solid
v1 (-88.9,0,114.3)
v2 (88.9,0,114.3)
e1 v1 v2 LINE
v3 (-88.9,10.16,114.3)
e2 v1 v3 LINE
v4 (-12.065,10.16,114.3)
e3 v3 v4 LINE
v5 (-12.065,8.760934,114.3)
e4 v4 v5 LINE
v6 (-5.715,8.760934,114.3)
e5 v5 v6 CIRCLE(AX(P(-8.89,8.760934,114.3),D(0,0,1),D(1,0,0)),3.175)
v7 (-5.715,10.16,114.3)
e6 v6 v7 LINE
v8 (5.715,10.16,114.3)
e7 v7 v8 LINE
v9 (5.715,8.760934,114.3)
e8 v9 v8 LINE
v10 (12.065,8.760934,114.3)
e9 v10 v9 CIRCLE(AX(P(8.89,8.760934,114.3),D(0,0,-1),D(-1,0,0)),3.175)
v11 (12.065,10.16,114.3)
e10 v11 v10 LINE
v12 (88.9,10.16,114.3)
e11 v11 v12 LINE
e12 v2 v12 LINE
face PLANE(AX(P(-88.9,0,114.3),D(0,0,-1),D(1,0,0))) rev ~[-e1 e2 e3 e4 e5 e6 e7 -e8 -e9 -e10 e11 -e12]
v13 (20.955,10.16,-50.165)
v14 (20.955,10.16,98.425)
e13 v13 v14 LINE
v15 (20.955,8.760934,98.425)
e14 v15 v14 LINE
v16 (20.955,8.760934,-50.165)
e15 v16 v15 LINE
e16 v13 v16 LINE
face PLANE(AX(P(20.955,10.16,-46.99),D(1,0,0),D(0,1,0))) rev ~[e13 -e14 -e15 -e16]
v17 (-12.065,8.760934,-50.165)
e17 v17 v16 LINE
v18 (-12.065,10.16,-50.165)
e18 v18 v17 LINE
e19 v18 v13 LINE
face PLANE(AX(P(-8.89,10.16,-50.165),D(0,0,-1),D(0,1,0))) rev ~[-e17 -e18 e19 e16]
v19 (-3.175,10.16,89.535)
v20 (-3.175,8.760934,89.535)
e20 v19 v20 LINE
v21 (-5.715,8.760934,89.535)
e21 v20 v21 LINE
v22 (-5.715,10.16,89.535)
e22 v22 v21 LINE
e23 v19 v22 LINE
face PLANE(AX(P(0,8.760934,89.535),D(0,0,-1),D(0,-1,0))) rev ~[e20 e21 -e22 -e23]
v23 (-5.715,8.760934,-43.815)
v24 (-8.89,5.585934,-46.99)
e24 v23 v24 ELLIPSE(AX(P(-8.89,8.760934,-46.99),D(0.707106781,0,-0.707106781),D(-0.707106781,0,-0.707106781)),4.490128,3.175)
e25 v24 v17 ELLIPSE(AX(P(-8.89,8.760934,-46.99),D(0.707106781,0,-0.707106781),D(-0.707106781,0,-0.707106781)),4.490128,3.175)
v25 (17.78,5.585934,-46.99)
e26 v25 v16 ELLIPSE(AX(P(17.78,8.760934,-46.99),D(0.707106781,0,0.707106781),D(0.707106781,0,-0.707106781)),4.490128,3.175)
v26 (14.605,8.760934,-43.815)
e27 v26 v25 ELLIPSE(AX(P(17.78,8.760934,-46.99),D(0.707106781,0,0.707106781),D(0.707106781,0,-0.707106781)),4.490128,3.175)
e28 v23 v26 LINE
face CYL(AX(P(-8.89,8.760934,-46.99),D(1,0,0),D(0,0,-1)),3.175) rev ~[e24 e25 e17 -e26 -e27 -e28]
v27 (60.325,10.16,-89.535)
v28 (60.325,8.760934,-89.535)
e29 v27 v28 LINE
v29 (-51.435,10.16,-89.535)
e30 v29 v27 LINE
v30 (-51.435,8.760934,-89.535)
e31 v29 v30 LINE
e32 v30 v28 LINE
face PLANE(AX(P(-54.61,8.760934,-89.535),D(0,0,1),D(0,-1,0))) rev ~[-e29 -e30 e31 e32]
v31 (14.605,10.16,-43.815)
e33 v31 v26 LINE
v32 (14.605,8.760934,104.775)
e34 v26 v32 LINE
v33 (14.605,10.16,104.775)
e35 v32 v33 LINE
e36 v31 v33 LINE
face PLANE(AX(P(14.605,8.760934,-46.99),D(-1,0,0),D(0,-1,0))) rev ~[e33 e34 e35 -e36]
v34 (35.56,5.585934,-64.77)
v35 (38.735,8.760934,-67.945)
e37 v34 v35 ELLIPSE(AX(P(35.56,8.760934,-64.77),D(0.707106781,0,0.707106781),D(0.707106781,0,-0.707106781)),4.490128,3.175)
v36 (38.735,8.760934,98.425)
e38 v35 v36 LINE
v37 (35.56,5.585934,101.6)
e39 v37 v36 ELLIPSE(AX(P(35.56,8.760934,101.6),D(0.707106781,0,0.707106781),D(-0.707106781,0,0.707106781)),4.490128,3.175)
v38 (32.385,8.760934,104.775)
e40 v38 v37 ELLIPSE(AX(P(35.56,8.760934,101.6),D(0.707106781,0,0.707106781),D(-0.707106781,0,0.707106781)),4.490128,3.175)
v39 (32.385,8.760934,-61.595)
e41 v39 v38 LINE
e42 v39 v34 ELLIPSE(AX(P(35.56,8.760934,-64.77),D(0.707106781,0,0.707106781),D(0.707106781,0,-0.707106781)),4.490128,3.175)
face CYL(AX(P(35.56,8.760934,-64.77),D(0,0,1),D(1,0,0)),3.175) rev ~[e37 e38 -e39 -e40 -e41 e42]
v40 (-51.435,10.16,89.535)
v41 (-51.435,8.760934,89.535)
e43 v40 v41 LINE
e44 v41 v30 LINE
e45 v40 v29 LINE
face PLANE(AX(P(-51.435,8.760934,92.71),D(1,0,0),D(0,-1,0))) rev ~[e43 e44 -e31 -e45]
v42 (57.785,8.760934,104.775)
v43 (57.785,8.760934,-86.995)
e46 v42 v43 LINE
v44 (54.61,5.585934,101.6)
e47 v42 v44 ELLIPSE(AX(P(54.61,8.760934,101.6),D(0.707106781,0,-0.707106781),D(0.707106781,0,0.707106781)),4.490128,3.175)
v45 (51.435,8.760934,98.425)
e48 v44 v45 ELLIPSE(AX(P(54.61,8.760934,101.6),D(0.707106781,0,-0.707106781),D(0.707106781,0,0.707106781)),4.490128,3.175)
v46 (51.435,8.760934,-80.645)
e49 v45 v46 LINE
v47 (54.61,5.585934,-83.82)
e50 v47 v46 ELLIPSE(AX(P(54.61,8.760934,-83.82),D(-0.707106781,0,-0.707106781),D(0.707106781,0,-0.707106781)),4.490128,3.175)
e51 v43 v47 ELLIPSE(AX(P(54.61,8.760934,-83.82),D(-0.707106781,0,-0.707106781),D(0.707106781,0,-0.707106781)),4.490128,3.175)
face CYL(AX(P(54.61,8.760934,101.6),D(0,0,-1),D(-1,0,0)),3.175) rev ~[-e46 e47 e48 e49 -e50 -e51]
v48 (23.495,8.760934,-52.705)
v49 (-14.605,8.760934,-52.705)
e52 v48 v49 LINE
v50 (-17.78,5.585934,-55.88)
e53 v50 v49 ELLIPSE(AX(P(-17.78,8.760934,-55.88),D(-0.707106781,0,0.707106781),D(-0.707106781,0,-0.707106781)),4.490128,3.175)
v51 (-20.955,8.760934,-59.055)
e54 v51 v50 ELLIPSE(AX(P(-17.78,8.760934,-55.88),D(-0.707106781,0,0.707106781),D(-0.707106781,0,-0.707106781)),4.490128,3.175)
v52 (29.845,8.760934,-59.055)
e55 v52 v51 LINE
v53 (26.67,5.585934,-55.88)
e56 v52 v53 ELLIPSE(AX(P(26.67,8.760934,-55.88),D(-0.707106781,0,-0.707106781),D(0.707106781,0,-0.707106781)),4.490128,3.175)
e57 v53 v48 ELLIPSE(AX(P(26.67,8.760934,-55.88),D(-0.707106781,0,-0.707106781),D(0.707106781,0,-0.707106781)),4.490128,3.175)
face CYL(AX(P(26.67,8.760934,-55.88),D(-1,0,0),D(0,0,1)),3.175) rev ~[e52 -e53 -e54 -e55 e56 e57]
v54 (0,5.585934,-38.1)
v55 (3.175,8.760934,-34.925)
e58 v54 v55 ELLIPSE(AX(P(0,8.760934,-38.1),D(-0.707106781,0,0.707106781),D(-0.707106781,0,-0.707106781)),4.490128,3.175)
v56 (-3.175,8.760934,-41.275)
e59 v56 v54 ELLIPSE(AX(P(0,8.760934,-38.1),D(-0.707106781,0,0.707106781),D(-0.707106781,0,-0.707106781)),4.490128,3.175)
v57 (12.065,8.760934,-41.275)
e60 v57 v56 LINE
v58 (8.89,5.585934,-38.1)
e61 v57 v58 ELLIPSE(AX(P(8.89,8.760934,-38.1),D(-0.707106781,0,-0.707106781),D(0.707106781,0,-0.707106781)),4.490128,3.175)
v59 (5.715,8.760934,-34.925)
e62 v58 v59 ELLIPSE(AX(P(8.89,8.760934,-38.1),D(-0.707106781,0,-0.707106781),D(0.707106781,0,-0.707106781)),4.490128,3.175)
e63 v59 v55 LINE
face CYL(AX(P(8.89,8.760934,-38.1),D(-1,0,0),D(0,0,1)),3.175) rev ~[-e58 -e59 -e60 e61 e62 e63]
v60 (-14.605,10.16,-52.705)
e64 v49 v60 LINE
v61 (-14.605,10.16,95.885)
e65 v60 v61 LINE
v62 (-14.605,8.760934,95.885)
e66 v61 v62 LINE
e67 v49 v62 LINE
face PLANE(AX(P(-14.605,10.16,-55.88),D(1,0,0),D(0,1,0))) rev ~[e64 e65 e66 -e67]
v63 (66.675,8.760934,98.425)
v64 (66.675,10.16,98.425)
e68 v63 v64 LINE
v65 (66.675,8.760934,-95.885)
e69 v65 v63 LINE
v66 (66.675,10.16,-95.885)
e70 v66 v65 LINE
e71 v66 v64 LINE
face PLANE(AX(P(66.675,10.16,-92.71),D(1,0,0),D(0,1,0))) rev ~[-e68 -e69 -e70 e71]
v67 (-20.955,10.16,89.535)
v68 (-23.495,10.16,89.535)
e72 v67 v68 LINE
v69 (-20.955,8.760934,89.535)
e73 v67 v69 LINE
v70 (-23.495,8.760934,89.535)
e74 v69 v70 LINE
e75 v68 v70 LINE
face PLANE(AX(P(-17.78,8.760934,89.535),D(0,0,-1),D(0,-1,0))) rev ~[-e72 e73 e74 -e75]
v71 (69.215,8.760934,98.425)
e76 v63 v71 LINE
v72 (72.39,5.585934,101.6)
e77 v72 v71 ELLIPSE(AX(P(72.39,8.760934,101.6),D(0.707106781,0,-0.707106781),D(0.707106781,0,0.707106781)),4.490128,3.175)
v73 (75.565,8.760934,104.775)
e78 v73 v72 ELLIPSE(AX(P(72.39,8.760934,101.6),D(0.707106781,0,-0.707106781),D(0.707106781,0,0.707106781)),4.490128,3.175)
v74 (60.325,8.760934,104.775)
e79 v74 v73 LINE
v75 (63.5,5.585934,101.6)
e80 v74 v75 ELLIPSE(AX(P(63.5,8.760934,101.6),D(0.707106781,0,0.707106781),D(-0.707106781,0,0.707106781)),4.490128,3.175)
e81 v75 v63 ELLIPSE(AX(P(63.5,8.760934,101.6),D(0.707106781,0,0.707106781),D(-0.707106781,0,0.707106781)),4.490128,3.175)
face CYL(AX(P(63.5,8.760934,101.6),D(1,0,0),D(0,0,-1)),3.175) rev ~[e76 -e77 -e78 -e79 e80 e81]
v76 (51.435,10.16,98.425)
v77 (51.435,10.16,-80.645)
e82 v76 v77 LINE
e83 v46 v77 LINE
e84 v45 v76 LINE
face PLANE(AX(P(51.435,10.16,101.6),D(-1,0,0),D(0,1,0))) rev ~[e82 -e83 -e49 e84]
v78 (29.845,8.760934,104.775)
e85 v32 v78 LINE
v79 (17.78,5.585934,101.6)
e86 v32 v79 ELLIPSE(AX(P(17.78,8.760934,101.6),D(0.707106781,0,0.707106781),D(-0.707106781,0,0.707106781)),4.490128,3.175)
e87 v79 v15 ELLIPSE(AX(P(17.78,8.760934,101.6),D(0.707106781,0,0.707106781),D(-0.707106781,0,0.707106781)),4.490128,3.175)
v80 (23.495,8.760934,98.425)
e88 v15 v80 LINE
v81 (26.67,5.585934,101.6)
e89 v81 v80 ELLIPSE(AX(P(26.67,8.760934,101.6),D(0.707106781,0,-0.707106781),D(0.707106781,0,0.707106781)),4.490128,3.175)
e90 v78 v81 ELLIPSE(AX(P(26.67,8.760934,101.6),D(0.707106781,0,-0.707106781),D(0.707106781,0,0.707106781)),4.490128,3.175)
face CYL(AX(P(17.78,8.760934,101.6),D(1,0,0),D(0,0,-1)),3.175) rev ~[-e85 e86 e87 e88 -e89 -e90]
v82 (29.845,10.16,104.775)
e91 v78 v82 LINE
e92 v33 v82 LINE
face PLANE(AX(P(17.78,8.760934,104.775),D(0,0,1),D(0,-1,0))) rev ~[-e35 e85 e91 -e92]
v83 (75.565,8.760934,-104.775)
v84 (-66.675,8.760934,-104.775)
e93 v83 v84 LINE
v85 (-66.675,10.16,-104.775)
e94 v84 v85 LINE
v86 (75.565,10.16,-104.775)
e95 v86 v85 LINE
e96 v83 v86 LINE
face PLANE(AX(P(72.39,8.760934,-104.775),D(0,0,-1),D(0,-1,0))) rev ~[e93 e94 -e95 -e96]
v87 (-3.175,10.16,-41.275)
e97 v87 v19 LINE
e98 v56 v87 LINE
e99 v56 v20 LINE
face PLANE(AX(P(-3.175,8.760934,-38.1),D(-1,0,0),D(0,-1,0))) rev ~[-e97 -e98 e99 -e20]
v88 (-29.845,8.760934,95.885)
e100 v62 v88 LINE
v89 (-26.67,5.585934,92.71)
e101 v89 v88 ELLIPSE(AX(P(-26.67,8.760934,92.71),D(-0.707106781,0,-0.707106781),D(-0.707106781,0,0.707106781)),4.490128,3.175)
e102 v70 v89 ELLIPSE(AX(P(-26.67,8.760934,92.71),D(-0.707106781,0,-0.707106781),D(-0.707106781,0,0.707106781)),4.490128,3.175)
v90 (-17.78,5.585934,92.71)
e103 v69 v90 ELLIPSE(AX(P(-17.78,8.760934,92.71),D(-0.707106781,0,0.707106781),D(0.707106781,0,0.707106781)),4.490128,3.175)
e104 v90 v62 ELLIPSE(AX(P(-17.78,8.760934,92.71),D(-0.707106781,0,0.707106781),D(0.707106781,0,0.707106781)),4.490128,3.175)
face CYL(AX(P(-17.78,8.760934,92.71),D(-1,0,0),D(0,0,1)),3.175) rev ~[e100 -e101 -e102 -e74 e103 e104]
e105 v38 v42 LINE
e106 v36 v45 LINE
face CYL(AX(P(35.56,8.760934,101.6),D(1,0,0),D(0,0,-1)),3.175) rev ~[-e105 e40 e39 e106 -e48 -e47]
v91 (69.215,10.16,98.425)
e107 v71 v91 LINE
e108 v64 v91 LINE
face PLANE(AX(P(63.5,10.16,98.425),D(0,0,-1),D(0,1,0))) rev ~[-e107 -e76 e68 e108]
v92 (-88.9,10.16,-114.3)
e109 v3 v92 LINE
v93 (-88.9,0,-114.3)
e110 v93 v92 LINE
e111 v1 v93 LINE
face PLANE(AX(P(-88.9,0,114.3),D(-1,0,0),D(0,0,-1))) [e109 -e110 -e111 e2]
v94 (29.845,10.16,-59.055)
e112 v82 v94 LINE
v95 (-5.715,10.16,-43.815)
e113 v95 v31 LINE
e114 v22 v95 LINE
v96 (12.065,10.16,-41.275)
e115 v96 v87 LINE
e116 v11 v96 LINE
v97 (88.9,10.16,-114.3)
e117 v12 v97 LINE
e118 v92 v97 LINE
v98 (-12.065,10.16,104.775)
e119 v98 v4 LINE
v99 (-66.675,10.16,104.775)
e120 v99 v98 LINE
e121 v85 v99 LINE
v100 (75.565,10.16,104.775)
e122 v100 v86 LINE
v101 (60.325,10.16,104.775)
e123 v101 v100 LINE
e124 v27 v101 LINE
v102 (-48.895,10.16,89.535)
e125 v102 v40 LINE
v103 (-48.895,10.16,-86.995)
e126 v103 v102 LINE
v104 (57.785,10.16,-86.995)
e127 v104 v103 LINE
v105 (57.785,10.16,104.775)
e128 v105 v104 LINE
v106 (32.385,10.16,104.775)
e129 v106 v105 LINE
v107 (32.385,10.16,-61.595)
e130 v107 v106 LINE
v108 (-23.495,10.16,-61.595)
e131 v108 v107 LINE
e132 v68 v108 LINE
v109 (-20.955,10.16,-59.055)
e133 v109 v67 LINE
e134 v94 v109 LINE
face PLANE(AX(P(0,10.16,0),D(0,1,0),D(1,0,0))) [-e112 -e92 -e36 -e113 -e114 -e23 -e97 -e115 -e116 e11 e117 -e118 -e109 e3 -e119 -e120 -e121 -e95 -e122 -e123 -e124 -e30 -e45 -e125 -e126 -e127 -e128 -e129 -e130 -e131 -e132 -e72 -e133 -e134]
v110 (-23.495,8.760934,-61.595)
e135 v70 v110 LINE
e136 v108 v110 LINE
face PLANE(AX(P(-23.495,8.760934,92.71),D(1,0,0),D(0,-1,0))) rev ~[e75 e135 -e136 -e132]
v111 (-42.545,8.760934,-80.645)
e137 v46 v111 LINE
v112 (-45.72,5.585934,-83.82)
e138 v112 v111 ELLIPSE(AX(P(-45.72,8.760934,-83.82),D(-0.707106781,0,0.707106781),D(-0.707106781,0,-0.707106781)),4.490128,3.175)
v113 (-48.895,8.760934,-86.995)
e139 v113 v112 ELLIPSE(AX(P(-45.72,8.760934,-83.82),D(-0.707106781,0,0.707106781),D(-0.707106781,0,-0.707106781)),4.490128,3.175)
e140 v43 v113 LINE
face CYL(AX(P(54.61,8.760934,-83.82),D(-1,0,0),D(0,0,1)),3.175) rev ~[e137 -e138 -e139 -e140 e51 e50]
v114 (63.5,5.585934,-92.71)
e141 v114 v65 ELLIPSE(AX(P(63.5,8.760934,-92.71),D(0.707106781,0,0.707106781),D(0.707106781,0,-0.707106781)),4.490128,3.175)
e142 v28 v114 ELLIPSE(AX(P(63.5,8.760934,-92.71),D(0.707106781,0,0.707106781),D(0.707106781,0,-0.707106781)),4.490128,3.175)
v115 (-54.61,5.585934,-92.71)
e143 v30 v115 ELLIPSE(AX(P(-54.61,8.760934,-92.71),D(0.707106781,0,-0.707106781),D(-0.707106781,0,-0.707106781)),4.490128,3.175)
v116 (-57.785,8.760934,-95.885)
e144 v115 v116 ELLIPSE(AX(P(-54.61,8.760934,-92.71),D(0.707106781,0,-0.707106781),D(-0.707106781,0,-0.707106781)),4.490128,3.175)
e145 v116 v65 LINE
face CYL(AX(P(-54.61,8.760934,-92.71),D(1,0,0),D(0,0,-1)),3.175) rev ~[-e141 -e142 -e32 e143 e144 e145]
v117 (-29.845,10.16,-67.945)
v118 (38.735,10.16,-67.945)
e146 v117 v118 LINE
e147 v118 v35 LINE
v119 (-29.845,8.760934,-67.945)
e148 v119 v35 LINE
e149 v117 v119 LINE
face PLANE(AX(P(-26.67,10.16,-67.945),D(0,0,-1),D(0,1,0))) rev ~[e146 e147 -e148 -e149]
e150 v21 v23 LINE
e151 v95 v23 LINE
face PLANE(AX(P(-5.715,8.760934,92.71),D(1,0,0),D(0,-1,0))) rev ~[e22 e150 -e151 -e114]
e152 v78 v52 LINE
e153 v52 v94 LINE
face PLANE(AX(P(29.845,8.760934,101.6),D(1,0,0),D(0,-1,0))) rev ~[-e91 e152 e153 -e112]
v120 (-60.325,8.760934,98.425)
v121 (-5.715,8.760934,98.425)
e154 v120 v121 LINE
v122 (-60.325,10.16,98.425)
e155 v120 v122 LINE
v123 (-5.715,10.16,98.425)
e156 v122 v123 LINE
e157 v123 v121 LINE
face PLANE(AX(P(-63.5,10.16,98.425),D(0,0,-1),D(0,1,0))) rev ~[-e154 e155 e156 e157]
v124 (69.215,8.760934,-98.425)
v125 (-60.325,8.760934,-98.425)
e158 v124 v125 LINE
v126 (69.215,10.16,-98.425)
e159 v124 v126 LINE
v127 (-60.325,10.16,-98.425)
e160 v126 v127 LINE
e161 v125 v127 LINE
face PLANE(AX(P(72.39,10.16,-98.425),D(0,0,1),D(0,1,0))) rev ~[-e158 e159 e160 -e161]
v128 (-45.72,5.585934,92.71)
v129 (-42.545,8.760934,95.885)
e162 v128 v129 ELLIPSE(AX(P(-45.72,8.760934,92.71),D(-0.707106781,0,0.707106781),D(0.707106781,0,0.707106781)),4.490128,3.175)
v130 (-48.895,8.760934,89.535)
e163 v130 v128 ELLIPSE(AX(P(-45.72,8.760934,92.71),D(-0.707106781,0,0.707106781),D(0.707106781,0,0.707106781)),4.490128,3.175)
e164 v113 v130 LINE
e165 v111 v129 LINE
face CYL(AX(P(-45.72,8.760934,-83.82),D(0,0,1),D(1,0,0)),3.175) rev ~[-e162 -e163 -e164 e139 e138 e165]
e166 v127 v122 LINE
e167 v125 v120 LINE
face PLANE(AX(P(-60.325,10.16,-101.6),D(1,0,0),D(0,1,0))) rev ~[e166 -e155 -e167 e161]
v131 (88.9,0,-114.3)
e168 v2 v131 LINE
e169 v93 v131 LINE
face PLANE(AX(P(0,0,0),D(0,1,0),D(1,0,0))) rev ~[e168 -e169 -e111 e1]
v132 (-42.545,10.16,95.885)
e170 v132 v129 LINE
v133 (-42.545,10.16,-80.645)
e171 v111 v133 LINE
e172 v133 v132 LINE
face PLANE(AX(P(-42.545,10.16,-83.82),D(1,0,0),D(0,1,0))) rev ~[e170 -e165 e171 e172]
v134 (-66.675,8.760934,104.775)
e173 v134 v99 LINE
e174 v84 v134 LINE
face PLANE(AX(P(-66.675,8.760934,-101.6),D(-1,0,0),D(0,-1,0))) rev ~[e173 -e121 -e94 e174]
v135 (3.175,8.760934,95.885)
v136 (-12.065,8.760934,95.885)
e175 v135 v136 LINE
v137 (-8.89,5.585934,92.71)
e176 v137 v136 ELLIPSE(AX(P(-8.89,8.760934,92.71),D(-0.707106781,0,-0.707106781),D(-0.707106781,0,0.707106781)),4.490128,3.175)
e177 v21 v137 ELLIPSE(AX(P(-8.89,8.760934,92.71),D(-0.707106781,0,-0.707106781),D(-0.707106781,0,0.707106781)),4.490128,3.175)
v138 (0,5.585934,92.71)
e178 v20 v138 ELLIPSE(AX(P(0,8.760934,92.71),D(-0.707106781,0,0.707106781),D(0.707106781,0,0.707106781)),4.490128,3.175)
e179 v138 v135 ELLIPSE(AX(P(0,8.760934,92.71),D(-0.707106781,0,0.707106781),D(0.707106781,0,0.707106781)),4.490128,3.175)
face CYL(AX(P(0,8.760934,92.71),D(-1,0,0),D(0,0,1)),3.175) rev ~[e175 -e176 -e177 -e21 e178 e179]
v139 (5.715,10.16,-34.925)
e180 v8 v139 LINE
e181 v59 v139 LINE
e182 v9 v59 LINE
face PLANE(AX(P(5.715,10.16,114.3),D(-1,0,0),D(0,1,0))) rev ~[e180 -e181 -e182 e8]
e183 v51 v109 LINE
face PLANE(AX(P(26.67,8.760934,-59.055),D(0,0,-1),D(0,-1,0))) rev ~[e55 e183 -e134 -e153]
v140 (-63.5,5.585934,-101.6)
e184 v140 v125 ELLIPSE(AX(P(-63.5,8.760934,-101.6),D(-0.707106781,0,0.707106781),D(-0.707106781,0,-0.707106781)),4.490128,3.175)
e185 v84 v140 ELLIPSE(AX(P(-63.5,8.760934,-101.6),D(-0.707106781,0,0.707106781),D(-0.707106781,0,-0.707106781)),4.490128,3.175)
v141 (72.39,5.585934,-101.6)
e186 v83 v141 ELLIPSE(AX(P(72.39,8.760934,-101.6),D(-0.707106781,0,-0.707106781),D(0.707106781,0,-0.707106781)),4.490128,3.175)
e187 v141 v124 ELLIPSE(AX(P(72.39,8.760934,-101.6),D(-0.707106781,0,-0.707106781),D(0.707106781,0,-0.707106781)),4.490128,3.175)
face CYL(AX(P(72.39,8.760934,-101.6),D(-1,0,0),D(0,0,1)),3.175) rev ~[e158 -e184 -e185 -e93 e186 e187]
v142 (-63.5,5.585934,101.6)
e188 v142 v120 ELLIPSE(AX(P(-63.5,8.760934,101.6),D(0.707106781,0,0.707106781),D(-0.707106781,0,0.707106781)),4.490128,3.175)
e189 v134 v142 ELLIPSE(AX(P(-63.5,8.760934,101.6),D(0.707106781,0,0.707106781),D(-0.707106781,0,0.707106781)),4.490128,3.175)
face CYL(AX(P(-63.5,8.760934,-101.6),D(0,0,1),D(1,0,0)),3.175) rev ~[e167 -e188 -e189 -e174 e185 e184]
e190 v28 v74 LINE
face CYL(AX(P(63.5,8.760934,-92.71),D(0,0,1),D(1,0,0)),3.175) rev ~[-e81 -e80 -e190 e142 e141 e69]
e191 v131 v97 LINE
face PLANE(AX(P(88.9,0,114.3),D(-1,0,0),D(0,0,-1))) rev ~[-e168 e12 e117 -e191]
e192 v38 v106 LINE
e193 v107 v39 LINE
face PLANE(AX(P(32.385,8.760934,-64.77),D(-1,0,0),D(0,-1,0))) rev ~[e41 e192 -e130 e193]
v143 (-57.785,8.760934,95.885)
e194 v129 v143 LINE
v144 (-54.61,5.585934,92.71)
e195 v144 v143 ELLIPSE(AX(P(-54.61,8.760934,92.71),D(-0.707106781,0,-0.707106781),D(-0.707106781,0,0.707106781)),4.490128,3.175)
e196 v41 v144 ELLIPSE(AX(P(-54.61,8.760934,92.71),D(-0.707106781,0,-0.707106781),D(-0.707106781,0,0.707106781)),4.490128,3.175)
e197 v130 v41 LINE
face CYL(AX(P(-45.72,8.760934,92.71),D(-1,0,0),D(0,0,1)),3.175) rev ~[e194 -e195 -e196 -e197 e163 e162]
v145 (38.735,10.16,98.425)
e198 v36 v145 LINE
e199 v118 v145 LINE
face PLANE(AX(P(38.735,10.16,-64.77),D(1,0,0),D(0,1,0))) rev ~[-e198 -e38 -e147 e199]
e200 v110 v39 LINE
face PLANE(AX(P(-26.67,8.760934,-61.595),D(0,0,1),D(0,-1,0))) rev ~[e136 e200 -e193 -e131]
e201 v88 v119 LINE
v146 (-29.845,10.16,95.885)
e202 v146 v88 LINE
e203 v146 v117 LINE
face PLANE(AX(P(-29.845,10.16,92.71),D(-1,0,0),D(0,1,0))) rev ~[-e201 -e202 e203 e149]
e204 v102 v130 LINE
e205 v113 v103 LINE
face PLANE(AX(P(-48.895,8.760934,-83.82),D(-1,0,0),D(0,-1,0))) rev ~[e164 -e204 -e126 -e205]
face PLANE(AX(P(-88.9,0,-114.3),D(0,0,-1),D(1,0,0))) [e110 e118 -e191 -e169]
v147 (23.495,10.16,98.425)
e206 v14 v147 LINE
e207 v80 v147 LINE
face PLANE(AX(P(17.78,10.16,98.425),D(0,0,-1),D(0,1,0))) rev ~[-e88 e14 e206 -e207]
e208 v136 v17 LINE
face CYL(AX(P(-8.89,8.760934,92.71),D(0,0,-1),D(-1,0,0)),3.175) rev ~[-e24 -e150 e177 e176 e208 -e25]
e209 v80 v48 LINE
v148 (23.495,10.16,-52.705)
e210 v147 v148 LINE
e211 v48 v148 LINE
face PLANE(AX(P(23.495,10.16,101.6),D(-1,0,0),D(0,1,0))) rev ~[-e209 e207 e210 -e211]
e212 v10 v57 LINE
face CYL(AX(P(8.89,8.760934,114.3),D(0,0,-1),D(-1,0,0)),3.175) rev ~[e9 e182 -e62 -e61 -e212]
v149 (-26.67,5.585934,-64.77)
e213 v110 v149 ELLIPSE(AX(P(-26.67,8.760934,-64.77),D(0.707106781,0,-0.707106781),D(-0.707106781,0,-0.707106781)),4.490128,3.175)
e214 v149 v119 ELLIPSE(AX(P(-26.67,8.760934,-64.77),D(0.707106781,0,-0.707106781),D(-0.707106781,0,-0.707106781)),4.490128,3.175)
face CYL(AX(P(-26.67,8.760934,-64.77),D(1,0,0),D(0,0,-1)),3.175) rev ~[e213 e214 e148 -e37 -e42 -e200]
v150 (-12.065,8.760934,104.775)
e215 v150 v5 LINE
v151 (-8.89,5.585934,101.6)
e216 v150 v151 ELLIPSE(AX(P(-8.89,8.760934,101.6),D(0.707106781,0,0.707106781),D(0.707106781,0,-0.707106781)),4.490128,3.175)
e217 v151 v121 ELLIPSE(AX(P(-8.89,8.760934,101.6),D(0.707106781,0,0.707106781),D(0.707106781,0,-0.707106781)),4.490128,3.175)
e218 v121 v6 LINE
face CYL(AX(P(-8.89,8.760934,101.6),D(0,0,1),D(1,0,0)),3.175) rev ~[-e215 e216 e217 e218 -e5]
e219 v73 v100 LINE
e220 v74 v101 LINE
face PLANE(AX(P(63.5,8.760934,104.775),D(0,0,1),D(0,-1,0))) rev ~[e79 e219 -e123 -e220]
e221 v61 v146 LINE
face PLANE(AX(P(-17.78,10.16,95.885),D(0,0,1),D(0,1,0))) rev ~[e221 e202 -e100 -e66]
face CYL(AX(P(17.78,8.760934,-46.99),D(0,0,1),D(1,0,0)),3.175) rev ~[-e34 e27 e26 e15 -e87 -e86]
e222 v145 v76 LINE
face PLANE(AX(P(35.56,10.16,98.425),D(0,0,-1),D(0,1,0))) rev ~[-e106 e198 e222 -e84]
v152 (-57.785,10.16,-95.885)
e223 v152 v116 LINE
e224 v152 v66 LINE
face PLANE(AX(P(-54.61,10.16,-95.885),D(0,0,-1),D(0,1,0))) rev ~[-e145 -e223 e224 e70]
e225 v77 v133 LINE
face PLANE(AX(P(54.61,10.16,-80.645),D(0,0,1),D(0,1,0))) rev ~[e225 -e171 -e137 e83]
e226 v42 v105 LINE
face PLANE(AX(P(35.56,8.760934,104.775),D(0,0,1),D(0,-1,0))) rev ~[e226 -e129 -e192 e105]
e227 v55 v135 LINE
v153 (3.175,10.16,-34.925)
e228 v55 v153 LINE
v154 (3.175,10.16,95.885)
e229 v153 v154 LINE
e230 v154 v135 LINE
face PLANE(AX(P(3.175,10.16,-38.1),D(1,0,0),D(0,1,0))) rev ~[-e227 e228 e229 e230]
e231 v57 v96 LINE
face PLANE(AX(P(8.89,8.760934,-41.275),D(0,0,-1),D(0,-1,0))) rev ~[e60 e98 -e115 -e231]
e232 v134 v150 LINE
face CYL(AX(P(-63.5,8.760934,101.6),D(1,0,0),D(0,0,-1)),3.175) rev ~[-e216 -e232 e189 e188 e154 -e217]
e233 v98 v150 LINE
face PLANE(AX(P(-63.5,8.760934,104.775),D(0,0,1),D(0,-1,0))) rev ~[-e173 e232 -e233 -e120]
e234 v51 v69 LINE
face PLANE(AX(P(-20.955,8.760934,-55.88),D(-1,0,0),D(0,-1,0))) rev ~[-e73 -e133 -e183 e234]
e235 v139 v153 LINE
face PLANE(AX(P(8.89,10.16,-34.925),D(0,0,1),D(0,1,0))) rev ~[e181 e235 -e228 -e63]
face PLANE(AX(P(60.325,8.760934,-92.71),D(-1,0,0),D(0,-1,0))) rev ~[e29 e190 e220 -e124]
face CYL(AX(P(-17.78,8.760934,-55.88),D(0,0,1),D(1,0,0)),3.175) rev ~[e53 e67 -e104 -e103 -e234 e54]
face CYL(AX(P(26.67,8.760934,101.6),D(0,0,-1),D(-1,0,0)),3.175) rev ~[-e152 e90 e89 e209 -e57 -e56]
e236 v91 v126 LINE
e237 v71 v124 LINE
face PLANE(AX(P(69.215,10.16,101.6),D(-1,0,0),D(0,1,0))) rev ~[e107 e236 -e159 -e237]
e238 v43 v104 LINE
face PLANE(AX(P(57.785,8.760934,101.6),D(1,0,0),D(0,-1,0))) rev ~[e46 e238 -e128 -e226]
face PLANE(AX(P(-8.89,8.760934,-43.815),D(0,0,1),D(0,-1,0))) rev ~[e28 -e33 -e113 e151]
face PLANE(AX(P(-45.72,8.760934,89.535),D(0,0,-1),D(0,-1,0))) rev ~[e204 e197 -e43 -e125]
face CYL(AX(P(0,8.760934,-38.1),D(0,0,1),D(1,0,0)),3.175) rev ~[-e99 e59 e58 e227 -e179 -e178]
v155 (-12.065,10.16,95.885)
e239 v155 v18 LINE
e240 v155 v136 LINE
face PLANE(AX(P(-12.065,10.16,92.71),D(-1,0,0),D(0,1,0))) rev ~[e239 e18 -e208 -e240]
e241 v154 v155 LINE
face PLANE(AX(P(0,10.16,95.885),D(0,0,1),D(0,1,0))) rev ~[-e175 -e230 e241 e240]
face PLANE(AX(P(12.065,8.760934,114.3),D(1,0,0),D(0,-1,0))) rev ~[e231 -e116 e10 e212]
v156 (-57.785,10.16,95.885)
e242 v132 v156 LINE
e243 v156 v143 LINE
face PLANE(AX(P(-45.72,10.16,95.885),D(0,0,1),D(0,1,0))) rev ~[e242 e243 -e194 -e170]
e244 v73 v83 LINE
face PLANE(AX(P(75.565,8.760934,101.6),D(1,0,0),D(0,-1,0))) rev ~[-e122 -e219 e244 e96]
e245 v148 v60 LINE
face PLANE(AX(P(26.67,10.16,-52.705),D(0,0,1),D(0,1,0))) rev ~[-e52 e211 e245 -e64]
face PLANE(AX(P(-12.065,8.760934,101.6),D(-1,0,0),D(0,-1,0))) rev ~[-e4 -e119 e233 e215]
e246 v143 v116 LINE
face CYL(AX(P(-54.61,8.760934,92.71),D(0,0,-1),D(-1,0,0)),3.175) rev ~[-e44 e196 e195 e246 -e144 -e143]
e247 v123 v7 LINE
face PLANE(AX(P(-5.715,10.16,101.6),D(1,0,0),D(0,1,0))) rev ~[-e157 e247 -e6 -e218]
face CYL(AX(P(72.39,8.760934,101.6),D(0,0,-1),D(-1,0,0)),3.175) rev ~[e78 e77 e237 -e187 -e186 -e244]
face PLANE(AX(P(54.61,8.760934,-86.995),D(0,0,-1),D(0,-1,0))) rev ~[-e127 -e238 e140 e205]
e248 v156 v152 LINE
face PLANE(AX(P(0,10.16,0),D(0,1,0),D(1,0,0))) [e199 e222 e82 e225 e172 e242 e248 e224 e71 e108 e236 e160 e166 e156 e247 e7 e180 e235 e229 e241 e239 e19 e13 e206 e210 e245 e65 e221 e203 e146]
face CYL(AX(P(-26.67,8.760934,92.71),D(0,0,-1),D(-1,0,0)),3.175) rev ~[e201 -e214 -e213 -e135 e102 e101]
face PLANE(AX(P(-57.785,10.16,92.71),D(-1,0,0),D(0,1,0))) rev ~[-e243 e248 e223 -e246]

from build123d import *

# Parameters (mm, degrees)
SKETCH1_W           = 177.8
SKETCH1_H           = 228.6
BOSS_EXTRUDE1_DEPTH = 10.16


with BuildPart() as part:
    # Sketch1 → Boss-Extrude1 (new body)
    with BuildSketch(Plane(origin=(0, 0, 0), x_dir=(1, 0, 0), z_dir=(0, 1, 0))):
        Rectangle(SKETCH1_W, SKETCH1_H)
    extrude(amount=BOSS_EXTRUDE1_DEPTH)

    # Cut-Sweep2: sweep along a path in Sketch2
    with BuildLine(Plane(origin=(0, 10.16, 0), x_dir=(1, 0, 0), z_dir=(0, 1, 0))) as cut_sweep2_path:
        Line((8.89, -114.3), (8.89, 38.1))
        Line((8.89, 38.1), (0, 38.1))
        Line((0, 38.1), (0, -92.71))
        Line((0, -92.71), (-8.89, -92.71))
        Line((-8.89, -92.71), (-8.89, 46.99))
        Line((-8.89, 46.99), (17.78, 46.99))
        Line((17.78, 46.99), (17.78, -101.6))
        Line((17.78, -101.6), (26.67, -101.6))
        Line((26.67, -101.6), (26.67, 55.88))
        Line((26.67, 55.88), (-17.78, 55.88))
        Line((-17.78, 55.88), (-17.78, -92.71))
        Line((-17.78, -92.71), (-26.67, -92.71))
        Line((-26.67, -92.71), (-26.67, 64.77))
        Line((-26.67, 64.77), (35.56, 64.77))
        Line((35.56, 64.77), (35.56, -101.6))
        Line((35.56, -101.6), (54.61, -101.6))
        Line((54.61, -101.6), (54.61, 83.82))
        Line((54.61, 83.82), (-45.72, 83.82))
        Line((-45.72, 83.82), (-45.72, -92.71))
        Line((-45.72, -92.71), (-54.61, -92.71))
        Line((-54.61, -92.71), (-54.61, 92.71))
        Line((-54.61, 92.71), (63.5, 92.71))
        Line((63.5, 92.71), (63.5, -101.6))
        Line((63.5, -101.6), (72.39, -101.6))
        Line((72.39, -101.6), (72.39, 101.6))
        Line((72.39, 101.6), (-63.5, 101.6))
        Line((-63.5, 101.6), (-63.5, -101.6))
        Line((-63.5, -101.6), (-8.89, -101.6))
        Line((-8.89, -101.6), (-8.89, -114.3))
    # Sketch4 → Cut-Sweep2 (sweep, cut)
    with BuildSketch(Plane.XY.offset(114.3)):
        with BuildLine():
            Line((-5.715, 10.16), (-5.715, 8.760933946))
            ThreePointArc((-5.715, 8.760933946), (-8.89, 5.585933946), (-12.065, 8.760933946))
            Line((-12.065, 8.760933946), (-12.065, 10.16))
            ThreePointArc((-12.065, 10.16), (-8.89, 13.335), (-5.715, 10.16))
        make_face()
    sweep(path=cut_sweep2_path.line, transition=Transition.RIGHT, mode=Mode.SUBTRACT)


solid = part.part
